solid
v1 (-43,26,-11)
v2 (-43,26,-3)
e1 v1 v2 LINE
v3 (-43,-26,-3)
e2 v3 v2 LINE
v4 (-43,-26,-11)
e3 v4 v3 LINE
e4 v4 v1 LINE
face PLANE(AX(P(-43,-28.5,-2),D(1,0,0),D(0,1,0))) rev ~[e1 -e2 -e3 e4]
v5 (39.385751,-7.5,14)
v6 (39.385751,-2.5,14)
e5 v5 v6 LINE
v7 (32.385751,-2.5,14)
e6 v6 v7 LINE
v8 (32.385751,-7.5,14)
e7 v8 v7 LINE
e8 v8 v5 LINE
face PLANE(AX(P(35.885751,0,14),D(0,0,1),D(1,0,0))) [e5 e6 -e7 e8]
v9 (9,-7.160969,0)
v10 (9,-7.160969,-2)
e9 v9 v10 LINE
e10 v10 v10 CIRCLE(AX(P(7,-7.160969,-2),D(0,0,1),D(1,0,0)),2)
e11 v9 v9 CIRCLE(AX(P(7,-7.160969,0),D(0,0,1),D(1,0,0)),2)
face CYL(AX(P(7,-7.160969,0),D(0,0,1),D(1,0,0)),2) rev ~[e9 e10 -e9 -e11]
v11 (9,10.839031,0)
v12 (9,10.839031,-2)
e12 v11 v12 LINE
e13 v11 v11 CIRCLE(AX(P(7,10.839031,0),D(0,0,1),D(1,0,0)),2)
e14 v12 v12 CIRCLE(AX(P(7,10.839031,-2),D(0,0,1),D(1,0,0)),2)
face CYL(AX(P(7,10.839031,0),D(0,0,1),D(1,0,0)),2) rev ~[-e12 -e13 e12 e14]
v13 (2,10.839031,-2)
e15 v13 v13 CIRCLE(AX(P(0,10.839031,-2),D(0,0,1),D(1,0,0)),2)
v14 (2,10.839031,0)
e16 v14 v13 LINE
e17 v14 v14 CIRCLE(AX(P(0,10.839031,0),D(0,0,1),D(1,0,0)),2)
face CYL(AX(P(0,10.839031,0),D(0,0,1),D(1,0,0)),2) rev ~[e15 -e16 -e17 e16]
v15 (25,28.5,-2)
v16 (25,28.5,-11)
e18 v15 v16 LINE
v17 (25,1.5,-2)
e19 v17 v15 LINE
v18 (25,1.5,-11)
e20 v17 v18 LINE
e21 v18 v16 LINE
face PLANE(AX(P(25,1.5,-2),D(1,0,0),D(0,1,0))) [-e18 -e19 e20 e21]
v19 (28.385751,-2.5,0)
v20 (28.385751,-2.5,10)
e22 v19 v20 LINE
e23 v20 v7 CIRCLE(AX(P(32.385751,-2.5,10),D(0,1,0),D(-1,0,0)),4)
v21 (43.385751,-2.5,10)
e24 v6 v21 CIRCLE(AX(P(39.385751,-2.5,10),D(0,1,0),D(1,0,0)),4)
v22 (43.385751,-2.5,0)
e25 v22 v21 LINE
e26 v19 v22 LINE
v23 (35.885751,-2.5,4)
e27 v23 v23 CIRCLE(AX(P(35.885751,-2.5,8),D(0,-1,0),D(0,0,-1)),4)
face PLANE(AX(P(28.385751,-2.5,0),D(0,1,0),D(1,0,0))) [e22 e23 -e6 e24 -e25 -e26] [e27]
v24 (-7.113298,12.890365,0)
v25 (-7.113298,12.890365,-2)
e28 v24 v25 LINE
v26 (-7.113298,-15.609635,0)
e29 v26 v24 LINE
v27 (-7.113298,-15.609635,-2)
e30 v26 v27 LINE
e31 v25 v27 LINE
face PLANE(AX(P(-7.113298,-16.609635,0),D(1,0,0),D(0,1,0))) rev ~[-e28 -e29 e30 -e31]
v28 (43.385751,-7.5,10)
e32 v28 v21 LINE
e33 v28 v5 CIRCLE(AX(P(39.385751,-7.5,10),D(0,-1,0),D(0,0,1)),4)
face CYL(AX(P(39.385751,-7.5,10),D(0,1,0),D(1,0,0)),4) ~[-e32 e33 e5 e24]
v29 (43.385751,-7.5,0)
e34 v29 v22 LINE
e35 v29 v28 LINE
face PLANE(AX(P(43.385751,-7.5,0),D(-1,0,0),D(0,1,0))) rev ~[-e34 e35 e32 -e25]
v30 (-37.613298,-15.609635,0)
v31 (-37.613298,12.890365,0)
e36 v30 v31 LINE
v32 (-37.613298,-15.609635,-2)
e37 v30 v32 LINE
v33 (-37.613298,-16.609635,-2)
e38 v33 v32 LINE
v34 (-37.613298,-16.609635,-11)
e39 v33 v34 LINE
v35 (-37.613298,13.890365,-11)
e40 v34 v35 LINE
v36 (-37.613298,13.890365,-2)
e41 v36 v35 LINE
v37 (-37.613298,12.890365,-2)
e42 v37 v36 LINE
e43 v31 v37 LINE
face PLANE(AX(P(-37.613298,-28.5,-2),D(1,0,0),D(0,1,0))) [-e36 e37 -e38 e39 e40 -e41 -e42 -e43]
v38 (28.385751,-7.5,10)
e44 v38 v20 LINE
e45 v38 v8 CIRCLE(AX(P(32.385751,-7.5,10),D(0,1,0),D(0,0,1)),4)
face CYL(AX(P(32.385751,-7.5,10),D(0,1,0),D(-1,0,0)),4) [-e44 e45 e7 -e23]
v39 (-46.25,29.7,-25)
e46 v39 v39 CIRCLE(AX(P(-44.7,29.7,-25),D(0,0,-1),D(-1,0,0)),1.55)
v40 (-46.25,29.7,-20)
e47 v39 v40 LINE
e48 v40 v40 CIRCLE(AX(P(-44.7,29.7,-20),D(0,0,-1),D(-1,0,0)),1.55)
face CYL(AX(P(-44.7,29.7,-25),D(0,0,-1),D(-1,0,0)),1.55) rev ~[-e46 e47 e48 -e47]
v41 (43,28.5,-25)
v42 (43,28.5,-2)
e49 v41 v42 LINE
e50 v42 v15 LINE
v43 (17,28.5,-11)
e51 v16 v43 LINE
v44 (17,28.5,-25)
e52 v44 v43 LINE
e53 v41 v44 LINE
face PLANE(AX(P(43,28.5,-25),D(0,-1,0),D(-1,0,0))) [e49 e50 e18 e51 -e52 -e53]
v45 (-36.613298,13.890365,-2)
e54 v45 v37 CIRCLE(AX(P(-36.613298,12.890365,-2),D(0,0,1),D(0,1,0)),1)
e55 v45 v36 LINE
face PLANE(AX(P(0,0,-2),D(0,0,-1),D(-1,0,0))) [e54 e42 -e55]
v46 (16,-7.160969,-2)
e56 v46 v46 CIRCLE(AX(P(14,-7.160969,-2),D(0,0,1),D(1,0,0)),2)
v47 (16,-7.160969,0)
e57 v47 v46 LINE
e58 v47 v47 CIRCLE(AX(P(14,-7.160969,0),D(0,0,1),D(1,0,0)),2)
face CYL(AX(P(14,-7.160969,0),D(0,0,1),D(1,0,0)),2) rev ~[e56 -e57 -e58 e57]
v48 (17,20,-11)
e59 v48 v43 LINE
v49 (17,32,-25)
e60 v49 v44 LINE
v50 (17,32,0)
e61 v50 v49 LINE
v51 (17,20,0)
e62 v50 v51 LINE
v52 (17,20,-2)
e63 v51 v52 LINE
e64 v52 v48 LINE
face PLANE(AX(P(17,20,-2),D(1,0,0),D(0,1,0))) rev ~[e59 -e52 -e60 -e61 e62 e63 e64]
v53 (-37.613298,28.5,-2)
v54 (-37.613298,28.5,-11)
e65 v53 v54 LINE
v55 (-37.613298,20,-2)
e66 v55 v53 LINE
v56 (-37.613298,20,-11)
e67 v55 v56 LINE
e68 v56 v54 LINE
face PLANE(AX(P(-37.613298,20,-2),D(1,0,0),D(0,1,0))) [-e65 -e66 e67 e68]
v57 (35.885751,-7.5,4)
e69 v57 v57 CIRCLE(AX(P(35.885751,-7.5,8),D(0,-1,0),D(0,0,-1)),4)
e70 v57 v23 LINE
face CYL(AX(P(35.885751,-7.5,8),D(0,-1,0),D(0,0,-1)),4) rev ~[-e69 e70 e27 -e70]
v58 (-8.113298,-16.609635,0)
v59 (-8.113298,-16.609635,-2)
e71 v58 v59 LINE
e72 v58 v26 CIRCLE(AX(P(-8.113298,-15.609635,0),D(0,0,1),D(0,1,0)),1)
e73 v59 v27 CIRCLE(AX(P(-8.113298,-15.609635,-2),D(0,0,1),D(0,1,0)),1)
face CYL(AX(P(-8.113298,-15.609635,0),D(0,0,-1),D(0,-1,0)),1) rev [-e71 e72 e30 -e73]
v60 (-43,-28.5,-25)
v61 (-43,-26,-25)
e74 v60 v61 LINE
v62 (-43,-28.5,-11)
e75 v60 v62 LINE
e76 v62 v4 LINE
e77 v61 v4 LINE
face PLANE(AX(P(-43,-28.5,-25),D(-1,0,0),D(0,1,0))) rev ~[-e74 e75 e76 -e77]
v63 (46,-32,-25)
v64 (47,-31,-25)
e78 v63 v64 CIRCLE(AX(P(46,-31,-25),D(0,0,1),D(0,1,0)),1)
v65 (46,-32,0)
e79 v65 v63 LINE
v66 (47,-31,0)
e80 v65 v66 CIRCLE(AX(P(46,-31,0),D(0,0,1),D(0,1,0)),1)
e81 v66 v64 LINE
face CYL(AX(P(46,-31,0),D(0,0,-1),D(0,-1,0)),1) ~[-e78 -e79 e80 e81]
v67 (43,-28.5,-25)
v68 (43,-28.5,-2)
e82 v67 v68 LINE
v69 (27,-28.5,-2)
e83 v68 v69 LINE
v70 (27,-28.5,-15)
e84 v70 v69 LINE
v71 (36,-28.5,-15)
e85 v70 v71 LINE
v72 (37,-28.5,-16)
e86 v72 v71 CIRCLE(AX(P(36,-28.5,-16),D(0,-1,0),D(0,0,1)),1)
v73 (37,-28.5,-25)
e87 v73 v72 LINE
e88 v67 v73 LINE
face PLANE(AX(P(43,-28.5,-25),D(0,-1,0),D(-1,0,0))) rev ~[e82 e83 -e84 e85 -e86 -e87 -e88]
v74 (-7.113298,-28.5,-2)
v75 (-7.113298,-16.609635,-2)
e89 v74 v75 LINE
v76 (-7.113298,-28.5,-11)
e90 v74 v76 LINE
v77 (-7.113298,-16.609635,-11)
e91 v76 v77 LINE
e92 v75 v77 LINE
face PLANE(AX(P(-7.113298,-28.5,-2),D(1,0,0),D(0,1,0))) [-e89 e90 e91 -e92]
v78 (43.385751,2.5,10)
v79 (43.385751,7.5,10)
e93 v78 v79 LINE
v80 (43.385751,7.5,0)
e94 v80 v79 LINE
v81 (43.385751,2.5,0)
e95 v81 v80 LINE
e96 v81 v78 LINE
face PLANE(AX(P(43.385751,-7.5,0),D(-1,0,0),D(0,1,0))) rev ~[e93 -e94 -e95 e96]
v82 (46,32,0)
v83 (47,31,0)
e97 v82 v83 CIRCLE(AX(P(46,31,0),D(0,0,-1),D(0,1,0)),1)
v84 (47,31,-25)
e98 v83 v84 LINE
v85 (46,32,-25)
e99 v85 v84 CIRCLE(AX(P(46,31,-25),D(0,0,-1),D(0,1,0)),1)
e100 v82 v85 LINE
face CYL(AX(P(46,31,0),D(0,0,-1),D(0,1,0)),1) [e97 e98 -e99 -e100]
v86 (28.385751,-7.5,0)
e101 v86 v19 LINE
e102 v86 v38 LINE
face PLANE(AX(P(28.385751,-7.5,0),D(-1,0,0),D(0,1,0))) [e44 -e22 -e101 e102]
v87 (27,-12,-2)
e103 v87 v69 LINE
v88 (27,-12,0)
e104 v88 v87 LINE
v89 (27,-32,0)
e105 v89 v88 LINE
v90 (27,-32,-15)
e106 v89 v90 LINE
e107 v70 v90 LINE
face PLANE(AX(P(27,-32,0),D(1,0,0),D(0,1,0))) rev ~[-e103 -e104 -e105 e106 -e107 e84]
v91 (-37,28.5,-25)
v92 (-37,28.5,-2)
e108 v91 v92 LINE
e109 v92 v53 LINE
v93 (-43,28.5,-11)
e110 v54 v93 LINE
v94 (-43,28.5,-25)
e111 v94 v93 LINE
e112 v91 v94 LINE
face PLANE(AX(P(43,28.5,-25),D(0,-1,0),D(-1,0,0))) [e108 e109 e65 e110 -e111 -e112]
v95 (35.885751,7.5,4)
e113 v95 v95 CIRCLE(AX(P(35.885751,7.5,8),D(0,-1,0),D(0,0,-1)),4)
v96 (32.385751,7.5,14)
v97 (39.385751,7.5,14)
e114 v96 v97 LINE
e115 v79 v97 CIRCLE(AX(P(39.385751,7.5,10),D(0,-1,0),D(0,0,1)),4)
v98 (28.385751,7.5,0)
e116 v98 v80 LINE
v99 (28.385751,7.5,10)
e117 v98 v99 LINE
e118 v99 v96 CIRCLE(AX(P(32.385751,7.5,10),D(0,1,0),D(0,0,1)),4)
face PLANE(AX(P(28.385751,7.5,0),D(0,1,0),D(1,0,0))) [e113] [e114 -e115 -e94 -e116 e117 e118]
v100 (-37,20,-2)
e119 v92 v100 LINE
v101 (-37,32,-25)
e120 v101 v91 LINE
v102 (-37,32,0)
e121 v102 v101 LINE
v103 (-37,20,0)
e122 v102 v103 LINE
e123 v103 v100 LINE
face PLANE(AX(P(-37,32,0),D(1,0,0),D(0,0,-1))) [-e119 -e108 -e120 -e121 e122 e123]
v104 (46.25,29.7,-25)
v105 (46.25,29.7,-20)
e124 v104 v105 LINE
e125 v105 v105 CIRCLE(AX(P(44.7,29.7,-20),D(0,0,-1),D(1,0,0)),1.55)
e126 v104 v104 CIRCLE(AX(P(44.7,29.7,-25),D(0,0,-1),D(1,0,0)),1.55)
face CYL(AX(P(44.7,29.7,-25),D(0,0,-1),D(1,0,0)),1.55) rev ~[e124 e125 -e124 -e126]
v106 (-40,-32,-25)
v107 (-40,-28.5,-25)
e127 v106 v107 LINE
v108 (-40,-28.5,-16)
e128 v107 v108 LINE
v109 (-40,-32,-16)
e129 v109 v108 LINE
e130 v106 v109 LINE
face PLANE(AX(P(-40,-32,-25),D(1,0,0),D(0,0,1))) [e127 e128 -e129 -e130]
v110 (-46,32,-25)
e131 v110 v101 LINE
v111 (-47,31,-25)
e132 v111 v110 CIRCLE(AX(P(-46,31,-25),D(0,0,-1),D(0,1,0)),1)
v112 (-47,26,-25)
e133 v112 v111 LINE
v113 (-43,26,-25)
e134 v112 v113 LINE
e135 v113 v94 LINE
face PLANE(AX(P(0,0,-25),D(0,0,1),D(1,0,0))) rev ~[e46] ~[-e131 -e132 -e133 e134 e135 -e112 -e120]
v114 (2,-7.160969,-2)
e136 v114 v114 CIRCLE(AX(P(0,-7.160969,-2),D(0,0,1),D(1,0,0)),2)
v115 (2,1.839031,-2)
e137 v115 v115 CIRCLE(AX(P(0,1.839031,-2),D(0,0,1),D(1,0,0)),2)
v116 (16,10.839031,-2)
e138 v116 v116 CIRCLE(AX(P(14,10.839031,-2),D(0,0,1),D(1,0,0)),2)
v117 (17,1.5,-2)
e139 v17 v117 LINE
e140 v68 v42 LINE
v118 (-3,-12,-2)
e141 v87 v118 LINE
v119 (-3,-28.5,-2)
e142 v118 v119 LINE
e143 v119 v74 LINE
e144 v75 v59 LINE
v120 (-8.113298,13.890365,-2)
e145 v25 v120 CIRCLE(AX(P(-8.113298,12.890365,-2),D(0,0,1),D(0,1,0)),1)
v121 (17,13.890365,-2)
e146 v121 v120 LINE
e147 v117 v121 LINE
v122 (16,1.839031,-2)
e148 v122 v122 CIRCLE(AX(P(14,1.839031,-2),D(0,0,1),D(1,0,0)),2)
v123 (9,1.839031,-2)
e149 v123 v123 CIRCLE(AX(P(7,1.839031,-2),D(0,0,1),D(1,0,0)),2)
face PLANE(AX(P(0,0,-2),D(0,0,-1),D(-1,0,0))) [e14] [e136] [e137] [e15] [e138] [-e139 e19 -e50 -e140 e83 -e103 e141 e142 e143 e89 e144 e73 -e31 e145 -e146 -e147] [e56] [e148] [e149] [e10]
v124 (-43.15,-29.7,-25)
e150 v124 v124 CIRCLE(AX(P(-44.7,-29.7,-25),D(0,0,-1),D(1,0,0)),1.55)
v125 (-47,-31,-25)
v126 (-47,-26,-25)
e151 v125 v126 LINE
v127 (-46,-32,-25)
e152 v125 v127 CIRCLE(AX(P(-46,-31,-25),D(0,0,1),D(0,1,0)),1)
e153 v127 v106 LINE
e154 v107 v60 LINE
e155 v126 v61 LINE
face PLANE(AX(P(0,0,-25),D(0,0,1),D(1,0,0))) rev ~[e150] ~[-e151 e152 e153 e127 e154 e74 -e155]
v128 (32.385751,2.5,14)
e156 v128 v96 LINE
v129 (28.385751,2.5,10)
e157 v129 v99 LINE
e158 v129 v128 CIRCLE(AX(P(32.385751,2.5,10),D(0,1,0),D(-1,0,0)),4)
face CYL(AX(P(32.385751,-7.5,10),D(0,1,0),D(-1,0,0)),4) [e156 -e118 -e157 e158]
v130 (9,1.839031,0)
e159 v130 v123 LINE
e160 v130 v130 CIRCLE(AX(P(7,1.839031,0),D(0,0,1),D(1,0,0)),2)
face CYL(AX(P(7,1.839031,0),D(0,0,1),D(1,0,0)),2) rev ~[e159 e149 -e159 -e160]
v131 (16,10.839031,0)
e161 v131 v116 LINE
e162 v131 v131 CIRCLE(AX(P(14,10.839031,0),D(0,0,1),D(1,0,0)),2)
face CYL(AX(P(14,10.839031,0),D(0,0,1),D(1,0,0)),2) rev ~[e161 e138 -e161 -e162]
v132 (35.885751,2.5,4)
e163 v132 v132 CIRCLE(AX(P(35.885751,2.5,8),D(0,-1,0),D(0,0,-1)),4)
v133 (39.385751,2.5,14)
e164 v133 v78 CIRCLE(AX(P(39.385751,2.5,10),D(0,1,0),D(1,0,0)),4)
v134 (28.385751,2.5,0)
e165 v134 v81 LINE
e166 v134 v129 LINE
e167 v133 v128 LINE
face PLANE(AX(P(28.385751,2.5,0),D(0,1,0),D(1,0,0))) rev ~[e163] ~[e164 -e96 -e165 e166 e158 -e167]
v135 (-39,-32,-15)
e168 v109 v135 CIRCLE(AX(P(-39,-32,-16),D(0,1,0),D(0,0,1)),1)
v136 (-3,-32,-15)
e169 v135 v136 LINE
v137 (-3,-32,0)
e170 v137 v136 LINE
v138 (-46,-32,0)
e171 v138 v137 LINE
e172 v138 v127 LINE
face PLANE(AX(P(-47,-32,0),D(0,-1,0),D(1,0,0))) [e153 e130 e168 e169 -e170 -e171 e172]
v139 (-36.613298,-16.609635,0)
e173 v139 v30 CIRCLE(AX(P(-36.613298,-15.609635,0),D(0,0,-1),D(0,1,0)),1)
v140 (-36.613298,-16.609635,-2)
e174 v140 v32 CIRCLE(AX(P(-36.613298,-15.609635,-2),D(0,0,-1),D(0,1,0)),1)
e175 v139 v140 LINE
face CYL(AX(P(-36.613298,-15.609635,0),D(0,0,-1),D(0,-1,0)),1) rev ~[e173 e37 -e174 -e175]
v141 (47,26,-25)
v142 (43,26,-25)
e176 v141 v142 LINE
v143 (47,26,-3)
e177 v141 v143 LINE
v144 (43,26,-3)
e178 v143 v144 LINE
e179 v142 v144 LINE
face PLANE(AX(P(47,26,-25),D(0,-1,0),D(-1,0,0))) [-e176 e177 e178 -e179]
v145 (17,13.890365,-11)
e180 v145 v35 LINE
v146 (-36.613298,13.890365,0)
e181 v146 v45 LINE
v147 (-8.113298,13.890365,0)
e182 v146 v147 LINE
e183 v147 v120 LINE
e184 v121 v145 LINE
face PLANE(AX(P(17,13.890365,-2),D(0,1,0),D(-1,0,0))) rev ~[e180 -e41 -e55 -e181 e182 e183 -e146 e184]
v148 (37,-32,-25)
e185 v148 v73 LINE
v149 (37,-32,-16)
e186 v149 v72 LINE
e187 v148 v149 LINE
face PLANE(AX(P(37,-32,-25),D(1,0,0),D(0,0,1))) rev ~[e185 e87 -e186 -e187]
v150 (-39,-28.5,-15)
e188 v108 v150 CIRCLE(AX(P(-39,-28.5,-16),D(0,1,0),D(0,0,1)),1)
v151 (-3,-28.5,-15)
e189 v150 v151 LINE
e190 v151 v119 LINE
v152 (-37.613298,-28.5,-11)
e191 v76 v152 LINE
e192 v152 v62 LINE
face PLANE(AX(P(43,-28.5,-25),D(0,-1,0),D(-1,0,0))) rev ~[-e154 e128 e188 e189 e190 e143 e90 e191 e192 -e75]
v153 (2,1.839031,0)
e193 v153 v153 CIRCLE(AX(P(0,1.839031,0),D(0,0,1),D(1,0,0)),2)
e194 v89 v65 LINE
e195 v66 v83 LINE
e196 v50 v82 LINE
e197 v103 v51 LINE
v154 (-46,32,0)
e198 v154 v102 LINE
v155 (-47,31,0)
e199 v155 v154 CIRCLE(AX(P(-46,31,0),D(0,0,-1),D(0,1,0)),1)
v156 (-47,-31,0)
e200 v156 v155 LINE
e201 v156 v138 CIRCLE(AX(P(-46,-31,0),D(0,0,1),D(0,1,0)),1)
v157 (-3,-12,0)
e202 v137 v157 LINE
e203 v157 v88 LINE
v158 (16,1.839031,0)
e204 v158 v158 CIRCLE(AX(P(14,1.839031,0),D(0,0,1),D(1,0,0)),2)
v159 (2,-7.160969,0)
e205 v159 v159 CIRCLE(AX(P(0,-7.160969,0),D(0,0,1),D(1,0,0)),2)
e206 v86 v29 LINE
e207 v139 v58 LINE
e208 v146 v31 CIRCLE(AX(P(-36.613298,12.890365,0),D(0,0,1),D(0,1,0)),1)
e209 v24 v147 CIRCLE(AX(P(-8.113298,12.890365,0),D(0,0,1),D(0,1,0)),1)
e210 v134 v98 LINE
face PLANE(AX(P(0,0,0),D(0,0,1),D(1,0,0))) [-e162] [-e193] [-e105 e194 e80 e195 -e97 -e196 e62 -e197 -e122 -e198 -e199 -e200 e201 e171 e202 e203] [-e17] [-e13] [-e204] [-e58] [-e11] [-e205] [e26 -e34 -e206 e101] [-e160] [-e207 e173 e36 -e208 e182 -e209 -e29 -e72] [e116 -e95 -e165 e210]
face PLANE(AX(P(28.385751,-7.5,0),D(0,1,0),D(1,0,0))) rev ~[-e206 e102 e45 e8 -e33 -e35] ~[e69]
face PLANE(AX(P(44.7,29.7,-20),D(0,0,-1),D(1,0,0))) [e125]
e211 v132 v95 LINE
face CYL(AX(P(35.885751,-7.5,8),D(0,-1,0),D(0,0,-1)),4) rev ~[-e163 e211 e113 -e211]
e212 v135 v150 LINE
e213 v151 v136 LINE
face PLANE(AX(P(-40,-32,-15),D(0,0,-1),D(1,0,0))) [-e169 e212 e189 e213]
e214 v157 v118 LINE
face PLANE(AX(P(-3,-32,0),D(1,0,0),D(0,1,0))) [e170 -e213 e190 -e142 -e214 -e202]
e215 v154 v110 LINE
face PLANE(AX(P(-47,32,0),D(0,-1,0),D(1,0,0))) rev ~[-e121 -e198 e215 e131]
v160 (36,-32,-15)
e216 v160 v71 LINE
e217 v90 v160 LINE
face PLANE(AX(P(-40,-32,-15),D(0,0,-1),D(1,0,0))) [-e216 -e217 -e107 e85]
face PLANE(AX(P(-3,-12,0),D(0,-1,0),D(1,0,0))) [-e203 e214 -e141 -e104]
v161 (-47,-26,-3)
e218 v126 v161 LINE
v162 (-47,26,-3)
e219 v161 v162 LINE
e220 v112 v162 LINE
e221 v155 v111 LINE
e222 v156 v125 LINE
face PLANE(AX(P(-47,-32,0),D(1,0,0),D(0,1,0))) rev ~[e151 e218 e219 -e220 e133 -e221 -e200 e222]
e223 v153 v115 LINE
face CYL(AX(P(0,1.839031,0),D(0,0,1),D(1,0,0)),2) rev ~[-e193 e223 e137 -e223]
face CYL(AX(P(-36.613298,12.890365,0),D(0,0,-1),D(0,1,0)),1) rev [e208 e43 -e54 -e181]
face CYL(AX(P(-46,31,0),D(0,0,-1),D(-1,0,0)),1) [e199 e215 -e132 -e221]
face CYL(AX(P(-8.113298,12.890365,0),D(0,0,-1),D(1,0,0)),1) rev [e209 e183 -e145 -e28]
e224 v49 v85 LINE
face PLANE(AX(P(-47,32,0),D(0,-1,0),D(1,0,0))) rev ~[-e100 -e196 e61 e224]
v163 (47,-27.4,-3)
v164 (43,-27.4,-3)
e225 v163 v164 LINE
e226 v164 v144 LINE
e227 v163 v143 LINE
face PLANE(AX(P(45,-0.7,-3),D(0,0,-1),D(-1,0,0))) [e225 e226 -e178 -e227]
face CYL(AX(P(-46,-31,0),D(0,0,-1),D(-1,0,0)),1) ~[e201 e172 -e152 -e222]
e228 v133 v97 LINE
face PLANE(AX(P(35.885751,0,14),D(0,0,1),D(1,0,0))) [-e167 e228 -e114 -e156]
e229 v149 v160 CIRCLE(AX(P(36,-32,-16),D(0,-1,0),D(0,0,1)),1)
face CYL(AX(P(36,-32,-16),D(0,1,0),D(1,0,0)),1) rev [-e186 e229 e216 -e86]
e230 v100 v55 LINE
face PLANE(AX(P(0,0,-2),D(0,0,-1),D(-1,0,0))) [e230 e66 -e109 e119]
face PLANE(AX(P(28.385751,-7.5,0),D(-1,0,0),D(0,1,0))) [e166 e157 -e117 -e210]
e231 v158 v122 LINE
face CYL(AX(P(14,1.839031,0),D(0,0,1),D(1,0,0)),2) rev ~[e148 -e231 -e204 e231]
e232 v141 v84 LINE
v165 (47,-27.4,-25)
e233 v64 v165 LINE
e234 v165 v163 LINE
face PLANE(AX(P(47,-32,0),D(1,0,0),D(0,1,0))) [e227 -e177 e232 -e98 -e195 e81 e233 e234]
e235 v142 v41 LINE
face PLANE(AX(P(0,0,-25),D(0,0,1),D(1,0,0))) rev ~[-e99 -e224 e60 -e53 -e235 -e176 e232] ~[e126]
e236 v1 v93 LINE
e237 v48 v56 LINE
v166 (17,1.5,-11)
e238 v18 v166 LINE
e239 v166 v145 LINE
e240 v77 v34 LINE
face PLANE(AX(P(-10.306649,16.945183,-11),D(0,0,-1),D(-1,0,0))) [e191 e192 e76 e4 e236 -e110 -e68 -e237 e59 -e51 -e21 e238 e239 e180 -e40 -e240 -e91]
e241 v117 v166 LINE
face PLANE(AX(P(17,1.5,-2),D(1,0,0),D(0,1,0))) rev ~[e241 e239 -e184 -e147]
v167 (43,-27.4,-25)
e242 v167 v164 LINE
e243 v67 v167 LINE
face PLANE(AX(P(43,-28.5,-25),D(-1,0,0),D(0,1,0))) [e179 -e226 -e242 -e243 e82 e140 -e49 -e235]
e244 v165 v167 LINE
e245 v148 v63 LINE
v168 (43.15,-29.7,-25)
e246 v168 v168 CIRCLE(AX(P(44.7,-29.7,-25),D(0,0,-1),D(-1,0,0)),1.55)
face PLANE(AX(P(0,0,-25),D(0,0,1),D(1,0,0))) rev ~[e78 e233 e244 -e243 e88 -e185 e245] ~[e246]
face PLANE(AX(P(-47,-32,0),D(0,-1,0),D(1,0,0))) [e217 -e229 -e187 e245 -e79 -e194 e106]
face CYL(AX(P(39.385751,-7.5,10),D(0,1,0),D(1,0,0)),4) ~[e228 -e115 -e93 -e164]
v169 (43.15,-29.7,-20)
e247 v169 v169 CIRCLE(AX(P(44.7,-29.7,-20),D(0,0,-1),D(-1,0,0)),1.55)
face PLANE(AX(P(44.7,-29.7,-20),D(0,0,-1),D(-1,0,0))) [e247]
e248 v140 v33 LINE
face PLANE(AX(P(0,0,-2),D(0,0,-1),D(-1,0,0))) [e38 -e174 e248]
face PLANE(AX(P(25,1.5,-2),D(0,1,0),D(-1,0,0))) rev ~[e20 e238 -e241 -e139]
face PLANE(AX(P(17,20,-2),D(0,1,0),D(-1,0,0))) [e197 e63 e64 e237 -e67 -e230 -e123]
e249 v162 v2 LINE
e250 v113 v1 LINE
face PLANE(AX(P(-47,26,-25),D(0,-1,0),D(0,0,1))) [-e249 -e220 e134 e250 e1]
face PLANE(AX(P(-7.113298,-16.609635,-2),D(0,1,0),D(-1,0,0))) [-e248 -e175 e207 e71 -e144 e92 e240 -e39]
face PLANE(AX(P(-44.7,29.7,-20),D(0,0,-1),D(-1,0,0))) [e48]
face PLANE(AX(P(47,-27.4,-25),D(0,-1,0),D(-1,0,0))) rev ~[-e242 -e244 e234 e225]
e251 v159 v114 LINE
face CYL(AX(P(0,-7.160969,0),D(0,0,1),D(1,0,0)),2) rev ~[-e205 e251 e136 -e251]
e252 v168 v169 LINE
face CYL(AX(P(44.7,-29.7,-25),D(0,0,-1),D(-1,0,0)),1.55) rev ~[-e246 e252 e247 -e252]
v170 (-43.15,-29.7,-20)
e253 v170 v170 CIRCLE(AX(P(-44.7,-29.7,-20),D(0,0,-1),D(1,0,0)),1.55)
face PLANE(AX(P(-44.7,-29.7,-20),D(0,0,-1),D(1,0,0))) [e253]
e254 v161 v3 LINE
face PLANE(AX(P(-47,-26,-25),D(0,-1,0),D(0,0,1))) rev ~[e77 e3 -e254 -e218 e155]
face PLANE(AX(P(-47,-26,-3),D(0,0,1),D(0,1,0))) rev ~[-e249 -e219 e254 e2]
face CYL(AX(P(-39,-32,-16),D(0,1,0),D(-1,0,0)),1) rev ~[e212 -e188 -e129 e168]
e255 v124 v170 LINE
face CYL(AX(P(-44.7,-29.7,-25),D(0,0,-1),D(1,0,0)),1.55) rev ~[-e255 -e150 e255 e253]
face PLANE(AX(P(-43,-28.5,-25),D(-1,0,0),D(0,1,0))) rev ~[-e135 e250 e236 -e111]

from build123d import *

# Parameters (mm, degrees)
SKETCH_1_W           = 94
SKETCH_1_H           = 64
EXTRUDE_1_DEPTH      = 25
SKETCH_3_W           = 86
SKETCH_3_H           = 57
CUT_EXTRUDE_1_DEPTH  = 23
FILLET_1_R           = 1
SKETCH_4_W           = 77
SKETCH_4_H           = 10
CUT_EXTRUDE_3_DEPTH  = 5
FILLET_4_R           = 1
SKETCH_5_W           = 54
SKETCH_5_H           = 25
CUT_EXTRUDE_4_DEPTH  = 12
SKETCH_6_W           = 30
SKETCH_6_H           = 20
CUT_EXTRUDE_5_DEPTH  = 18
SKETCH_7_W           = 22
SKETCH_7_H           = 52
CUT_EXTRUDE_6_DEPTH  = 5
SKETCH_8_W           = 30.5
SKETCH_8_H           = 30.5
CUT_EXTRUDE_7_DEPTH  = 5
FILLET_5_R           = 1
SKETCH_9_R           = 1.55
CUT_EXTRUDE_8_DEPTH  = 5
SKETCH_10_W          = 4
SKETCH_10_H          = 53.4
CUT_EXTRUDE_9_DEPTH  = 22
SKETCH_11_W          = 30.5
SKETCH_11_H          = 11.890365251
EXTRUDE_2_DEPTH      = 9
SKETCH_12_W          = 54.61329803
SKETCH_12_H          = 6.109634749
SKETCH_12_W_2        = 5.38670197
SKETCH_12_H_2        = 57
SKETCH_12_W_3        = 8
SKETCH_12_H_3        = 27
EXTRUDE_3_DEPTH      = 9
SKETCH_13_R          = 2
CUT_EXTRUDE_10_DEPTH = 10
SKETCH_14_W          = 15
SKETCH_14_H          = 15
EXTRUDE_4_DEPTH      = 14
SKETCH_17_R          = 4
CUT_EXTRUDE_13_DEPTH = 67.289139382
FILLET_7_R           = 4
SKETCH_18_W          = 15
SKETCH_18_H          = 5
CUT_EXTRUDE_14_DEPTH = 63.112800613


with BuildPart() as part:
    # 草图1 → 凸台-拉伸1 (new body)
    with BuildSketch(Plane.XY):
        Rectangle(SKETCH_1_W, SKETCH_1_H)
    extrude(amount=-EXTRUDE_1_DEPTH)

    # 草图3 → 切除-拉伸1 (cut)
    with BuildSketch(Plane(origin=(0, 0, -25), x_dir=(-1, 0, 0), z_dir=(0, 0, -1))):
        Rectangle(SKETCH_3_W, SKETCH_3_H)
    extrude(amount=-CUT_EXTRUDE_1_DEPTH, mode=Mode.SUBTRACT)

    # 圆角1
    fillet_1_edges = [part.edges().sort_by_distance(p)[0] for p in [
        (47, -32, -12.5),
        (-47, -32, -12.5),
        (-47, 32, -12.5),
        (47, 32, -12.5),
    ]]
    fillet(fillet_1_edges, radius=FILLET_1_R)

    # 草图4 → 切除-拉伸3 (cut)
    with BuildSketch(Plane.XZ.offset(32)):
        with Locations((-1.5, -20)):
            Rectangle(SKETCH_4_W, SKETCH_4_H)
    extrude(amount=-CUT_EXTRUDE_3_DEPTH, mode=Mode.SUBTRACT)

    # 圆角4
    fillet_4_edges = [part.edges().sort_by_distance(p)[0] for p in [
        (37, -30.25, -15),
        (-40, -30.25, -15),
    ]]
    fillet(fillet_4_edges, radius=FILLET_4_R)

    # 草图5 → 切除-拉伸4 (cut)
    with BuildSketch(Plane(origin=(0, 32, 0), x_dir=(1, 0, 0), z_dir=(0, 1, 0))):
        with Locations((-10, 12.5)):
            Rectangle(SKETCH_5_W, SKETCH_5_H)
    extrude(amount=-CUT_EXTRUDE_4_DEPTH, mode=Mode.SUBTRACT)

    # 草图6 → 切除-拉伸5 (cut)
    with BuildSketch(Plane.XY):
        with Locations((12, -22)):
            Rectangle(SKETCH_6_W, SKETCH_6_H)
    extrude(amount=-CUT_EXTRUDE_5_DEPTH, mode=Mode.SUBTRACT)

    # 草图7 → 切除-拉伸6 (cut)
    with BuildSketch(Plane.ZY.offset(47)):
        with Locations((-14, 0)):
            Rectangle(SKETCH_7_W, SKETCH_7_H)
    extrude(amount=-CUT_EXTRUDE_6_DEPTH, mode=Mode.SUBTRACT)

    # 草图8 → 切除-拉伸7 (cut)
    with BuildSketch(Plane.XY):
        with Locations((-22.36329803, -1.359634749)):
            Rectangle(SKETCH_8_W, SKETCH_8_H)
    extrude(amount=-CUT_EXTRUDE_7_DEPTH, mode=Mode.SUBTRACT)

    # 圆角5
    fillet_5_edges = [part.edges().sort_by_distance(p)[0] for p in [
        (-7.11329803, 13.890365251, -1),
        (-7.11329803, -16.609634749, -1),
        (-37.61329803, -16.609634749, -1),
        (-37.61329803, 13.890365251, -1),
    ]]
    fillet(fillet_5_edges, radius=FILLET_5_R)

    # 草图9 → 切除-拉伸8 (cut)
    with BuildSketch(Plane(origin=(0, 0, -25), x_dir=(-1, 0, 0), z_dir=(0, 0, -1))):
        with Locations((44.7, 29.7)):
            Circle(SKETCH_9_R)
        with Locations(Location((44.7, -29.7, 0), (0, 0, 180))):
            Circle(SKETCH_9_R)
        with Locations((-44.7, -29.7)):
            Circle(SKETCH_9_R)
        with Locations(Location((-44.7, 29.7, 0), (0, 0, 180))):
            Circle(SKETCH_9_R)
    extrude(amount=-CUT_EXTRUDE_8_DEPTH, mode=Mode.SUBTRACT)

    # 草图10 → 切除-拉伸9 (cut)
    with BuildSketch(Plane(origin=(0, 0, -25), x_dir=(-1, 0, 0), z_dir=(0, 0, -1))):
        with Locations((-45, -0.7)):
            Rectangle(SKETCH_10_W, SKETCH_10_H)
    extrude(amount=-CUT_EXTRUDE_9_DEPTH, mode=Mode.SUBTRACT)

    # 草图11 → 凸台-拉伸2 (add)
    with BuildSketch(Plane(origin=(0, 0, -2), x_dir=(-1, 0, 0), z_dir=(0, 0, -1))):
        with Locations((22.36329803, -22.554817375)):
            Rectangle(SKETCH_11_W, SKETCH_11_H)
    extrude(amount=EXTRUDE_2_DEPTH)

    # 草图12 → 凸台-拉伸3 (add)
    with BuildSketch(Plane(origin=(0, 0, -2), x_dir=(-1, 0, 0), z_dir=(0, 0, -1))):
        with Locations((10.306649015, 16.945182625)):
            Rectangle(SKETCH_12_W, SKETCH_12_H)
        with Locations((40.306649015, 0)):
            Rectangle(SKETCH_12_W_2, SKETCH_12_H_2)
        with Locations((-21, 15)):
            Rectangle(SKETCH_12_W_3, SKETCH_12_H_3)
    extrude(amount=EXTRUDE_3_DEPTH)

    # 草图13 → 切除-拉伸10 (cut)
    with BuildSketch(Plane.XY):
        with Locations((0, 10.839030868)):
            Circle(SKETCH_13_R)
        with Locations((7, 10.839030868)):
            Circle(SKETCH_13_R)
        with Locations((14, 10.839030868)):
            Circle(SKETCH_13_R)
        with Locations((7, 1.839030868)):
            Circle(SKETCH_13_R)
        with Locations((14, 1.839030868)):
            Circle(SKETCH_13_R)
        with Locations((7, -7.160969132)):
            Circle(SKETCH_13_R)
        with Locations((14, -7.160969132)):
            Circle(SKETCH_13_R)
        with Locations((0, 1.839030868)):
            Circle(SKETCH_13_R)
        with Locations((0, -7.160969132)):
            Circle(SKETCH_13_R)
    extrude(amount=-CUT_EXTRUDE_10_DEPTH, mode=Mode.SUBTRACT)

    # 草图14 → 凸台-拉伸4 (add)
    with BuildSketch(Plane.XY):
        with Locations((35.885750834, 0)):
            Rectangle(SKETCH_14_W, SKETCH_14_H)
    extrude(amount=EXTRUDE_4_DEPTH)

    # 草图17 → 切除-拉伸13 (cut, through all)
    with BuildSketch(Plane.XZ.offset(7.5)):
        with Locations(Location((35.885750834, 8, 0), (0, 0, 270))):
            Circle(SKETCH_17_R)
    extrude(amount=-CUT_EXTRUDE_13_DEPTH, mode=Mode.SUBTRACT)

    # 圆角7
    fillet_7_edges = [part.edges().sort_by_distance(p)[0] for p in [
        (43.385750834, 0, 14),
        (28.385750834, 0, 14),
    ]]
    fillet(fillet_7_edges, radius=FILLET_7_R)

    # 草图18 → 切除-拉伸14 (cut, through all)
    with BuildSketch(Plane.XY):
        with Locations((35.885750834, 0)):
            Rectangle(SKETCH_18_W, SKETCH_18_H)
    extrude(amount=CUT_EXTRUDE_14_DEPTH, mode=Mode.SUBTRACT)


solid = part.part
